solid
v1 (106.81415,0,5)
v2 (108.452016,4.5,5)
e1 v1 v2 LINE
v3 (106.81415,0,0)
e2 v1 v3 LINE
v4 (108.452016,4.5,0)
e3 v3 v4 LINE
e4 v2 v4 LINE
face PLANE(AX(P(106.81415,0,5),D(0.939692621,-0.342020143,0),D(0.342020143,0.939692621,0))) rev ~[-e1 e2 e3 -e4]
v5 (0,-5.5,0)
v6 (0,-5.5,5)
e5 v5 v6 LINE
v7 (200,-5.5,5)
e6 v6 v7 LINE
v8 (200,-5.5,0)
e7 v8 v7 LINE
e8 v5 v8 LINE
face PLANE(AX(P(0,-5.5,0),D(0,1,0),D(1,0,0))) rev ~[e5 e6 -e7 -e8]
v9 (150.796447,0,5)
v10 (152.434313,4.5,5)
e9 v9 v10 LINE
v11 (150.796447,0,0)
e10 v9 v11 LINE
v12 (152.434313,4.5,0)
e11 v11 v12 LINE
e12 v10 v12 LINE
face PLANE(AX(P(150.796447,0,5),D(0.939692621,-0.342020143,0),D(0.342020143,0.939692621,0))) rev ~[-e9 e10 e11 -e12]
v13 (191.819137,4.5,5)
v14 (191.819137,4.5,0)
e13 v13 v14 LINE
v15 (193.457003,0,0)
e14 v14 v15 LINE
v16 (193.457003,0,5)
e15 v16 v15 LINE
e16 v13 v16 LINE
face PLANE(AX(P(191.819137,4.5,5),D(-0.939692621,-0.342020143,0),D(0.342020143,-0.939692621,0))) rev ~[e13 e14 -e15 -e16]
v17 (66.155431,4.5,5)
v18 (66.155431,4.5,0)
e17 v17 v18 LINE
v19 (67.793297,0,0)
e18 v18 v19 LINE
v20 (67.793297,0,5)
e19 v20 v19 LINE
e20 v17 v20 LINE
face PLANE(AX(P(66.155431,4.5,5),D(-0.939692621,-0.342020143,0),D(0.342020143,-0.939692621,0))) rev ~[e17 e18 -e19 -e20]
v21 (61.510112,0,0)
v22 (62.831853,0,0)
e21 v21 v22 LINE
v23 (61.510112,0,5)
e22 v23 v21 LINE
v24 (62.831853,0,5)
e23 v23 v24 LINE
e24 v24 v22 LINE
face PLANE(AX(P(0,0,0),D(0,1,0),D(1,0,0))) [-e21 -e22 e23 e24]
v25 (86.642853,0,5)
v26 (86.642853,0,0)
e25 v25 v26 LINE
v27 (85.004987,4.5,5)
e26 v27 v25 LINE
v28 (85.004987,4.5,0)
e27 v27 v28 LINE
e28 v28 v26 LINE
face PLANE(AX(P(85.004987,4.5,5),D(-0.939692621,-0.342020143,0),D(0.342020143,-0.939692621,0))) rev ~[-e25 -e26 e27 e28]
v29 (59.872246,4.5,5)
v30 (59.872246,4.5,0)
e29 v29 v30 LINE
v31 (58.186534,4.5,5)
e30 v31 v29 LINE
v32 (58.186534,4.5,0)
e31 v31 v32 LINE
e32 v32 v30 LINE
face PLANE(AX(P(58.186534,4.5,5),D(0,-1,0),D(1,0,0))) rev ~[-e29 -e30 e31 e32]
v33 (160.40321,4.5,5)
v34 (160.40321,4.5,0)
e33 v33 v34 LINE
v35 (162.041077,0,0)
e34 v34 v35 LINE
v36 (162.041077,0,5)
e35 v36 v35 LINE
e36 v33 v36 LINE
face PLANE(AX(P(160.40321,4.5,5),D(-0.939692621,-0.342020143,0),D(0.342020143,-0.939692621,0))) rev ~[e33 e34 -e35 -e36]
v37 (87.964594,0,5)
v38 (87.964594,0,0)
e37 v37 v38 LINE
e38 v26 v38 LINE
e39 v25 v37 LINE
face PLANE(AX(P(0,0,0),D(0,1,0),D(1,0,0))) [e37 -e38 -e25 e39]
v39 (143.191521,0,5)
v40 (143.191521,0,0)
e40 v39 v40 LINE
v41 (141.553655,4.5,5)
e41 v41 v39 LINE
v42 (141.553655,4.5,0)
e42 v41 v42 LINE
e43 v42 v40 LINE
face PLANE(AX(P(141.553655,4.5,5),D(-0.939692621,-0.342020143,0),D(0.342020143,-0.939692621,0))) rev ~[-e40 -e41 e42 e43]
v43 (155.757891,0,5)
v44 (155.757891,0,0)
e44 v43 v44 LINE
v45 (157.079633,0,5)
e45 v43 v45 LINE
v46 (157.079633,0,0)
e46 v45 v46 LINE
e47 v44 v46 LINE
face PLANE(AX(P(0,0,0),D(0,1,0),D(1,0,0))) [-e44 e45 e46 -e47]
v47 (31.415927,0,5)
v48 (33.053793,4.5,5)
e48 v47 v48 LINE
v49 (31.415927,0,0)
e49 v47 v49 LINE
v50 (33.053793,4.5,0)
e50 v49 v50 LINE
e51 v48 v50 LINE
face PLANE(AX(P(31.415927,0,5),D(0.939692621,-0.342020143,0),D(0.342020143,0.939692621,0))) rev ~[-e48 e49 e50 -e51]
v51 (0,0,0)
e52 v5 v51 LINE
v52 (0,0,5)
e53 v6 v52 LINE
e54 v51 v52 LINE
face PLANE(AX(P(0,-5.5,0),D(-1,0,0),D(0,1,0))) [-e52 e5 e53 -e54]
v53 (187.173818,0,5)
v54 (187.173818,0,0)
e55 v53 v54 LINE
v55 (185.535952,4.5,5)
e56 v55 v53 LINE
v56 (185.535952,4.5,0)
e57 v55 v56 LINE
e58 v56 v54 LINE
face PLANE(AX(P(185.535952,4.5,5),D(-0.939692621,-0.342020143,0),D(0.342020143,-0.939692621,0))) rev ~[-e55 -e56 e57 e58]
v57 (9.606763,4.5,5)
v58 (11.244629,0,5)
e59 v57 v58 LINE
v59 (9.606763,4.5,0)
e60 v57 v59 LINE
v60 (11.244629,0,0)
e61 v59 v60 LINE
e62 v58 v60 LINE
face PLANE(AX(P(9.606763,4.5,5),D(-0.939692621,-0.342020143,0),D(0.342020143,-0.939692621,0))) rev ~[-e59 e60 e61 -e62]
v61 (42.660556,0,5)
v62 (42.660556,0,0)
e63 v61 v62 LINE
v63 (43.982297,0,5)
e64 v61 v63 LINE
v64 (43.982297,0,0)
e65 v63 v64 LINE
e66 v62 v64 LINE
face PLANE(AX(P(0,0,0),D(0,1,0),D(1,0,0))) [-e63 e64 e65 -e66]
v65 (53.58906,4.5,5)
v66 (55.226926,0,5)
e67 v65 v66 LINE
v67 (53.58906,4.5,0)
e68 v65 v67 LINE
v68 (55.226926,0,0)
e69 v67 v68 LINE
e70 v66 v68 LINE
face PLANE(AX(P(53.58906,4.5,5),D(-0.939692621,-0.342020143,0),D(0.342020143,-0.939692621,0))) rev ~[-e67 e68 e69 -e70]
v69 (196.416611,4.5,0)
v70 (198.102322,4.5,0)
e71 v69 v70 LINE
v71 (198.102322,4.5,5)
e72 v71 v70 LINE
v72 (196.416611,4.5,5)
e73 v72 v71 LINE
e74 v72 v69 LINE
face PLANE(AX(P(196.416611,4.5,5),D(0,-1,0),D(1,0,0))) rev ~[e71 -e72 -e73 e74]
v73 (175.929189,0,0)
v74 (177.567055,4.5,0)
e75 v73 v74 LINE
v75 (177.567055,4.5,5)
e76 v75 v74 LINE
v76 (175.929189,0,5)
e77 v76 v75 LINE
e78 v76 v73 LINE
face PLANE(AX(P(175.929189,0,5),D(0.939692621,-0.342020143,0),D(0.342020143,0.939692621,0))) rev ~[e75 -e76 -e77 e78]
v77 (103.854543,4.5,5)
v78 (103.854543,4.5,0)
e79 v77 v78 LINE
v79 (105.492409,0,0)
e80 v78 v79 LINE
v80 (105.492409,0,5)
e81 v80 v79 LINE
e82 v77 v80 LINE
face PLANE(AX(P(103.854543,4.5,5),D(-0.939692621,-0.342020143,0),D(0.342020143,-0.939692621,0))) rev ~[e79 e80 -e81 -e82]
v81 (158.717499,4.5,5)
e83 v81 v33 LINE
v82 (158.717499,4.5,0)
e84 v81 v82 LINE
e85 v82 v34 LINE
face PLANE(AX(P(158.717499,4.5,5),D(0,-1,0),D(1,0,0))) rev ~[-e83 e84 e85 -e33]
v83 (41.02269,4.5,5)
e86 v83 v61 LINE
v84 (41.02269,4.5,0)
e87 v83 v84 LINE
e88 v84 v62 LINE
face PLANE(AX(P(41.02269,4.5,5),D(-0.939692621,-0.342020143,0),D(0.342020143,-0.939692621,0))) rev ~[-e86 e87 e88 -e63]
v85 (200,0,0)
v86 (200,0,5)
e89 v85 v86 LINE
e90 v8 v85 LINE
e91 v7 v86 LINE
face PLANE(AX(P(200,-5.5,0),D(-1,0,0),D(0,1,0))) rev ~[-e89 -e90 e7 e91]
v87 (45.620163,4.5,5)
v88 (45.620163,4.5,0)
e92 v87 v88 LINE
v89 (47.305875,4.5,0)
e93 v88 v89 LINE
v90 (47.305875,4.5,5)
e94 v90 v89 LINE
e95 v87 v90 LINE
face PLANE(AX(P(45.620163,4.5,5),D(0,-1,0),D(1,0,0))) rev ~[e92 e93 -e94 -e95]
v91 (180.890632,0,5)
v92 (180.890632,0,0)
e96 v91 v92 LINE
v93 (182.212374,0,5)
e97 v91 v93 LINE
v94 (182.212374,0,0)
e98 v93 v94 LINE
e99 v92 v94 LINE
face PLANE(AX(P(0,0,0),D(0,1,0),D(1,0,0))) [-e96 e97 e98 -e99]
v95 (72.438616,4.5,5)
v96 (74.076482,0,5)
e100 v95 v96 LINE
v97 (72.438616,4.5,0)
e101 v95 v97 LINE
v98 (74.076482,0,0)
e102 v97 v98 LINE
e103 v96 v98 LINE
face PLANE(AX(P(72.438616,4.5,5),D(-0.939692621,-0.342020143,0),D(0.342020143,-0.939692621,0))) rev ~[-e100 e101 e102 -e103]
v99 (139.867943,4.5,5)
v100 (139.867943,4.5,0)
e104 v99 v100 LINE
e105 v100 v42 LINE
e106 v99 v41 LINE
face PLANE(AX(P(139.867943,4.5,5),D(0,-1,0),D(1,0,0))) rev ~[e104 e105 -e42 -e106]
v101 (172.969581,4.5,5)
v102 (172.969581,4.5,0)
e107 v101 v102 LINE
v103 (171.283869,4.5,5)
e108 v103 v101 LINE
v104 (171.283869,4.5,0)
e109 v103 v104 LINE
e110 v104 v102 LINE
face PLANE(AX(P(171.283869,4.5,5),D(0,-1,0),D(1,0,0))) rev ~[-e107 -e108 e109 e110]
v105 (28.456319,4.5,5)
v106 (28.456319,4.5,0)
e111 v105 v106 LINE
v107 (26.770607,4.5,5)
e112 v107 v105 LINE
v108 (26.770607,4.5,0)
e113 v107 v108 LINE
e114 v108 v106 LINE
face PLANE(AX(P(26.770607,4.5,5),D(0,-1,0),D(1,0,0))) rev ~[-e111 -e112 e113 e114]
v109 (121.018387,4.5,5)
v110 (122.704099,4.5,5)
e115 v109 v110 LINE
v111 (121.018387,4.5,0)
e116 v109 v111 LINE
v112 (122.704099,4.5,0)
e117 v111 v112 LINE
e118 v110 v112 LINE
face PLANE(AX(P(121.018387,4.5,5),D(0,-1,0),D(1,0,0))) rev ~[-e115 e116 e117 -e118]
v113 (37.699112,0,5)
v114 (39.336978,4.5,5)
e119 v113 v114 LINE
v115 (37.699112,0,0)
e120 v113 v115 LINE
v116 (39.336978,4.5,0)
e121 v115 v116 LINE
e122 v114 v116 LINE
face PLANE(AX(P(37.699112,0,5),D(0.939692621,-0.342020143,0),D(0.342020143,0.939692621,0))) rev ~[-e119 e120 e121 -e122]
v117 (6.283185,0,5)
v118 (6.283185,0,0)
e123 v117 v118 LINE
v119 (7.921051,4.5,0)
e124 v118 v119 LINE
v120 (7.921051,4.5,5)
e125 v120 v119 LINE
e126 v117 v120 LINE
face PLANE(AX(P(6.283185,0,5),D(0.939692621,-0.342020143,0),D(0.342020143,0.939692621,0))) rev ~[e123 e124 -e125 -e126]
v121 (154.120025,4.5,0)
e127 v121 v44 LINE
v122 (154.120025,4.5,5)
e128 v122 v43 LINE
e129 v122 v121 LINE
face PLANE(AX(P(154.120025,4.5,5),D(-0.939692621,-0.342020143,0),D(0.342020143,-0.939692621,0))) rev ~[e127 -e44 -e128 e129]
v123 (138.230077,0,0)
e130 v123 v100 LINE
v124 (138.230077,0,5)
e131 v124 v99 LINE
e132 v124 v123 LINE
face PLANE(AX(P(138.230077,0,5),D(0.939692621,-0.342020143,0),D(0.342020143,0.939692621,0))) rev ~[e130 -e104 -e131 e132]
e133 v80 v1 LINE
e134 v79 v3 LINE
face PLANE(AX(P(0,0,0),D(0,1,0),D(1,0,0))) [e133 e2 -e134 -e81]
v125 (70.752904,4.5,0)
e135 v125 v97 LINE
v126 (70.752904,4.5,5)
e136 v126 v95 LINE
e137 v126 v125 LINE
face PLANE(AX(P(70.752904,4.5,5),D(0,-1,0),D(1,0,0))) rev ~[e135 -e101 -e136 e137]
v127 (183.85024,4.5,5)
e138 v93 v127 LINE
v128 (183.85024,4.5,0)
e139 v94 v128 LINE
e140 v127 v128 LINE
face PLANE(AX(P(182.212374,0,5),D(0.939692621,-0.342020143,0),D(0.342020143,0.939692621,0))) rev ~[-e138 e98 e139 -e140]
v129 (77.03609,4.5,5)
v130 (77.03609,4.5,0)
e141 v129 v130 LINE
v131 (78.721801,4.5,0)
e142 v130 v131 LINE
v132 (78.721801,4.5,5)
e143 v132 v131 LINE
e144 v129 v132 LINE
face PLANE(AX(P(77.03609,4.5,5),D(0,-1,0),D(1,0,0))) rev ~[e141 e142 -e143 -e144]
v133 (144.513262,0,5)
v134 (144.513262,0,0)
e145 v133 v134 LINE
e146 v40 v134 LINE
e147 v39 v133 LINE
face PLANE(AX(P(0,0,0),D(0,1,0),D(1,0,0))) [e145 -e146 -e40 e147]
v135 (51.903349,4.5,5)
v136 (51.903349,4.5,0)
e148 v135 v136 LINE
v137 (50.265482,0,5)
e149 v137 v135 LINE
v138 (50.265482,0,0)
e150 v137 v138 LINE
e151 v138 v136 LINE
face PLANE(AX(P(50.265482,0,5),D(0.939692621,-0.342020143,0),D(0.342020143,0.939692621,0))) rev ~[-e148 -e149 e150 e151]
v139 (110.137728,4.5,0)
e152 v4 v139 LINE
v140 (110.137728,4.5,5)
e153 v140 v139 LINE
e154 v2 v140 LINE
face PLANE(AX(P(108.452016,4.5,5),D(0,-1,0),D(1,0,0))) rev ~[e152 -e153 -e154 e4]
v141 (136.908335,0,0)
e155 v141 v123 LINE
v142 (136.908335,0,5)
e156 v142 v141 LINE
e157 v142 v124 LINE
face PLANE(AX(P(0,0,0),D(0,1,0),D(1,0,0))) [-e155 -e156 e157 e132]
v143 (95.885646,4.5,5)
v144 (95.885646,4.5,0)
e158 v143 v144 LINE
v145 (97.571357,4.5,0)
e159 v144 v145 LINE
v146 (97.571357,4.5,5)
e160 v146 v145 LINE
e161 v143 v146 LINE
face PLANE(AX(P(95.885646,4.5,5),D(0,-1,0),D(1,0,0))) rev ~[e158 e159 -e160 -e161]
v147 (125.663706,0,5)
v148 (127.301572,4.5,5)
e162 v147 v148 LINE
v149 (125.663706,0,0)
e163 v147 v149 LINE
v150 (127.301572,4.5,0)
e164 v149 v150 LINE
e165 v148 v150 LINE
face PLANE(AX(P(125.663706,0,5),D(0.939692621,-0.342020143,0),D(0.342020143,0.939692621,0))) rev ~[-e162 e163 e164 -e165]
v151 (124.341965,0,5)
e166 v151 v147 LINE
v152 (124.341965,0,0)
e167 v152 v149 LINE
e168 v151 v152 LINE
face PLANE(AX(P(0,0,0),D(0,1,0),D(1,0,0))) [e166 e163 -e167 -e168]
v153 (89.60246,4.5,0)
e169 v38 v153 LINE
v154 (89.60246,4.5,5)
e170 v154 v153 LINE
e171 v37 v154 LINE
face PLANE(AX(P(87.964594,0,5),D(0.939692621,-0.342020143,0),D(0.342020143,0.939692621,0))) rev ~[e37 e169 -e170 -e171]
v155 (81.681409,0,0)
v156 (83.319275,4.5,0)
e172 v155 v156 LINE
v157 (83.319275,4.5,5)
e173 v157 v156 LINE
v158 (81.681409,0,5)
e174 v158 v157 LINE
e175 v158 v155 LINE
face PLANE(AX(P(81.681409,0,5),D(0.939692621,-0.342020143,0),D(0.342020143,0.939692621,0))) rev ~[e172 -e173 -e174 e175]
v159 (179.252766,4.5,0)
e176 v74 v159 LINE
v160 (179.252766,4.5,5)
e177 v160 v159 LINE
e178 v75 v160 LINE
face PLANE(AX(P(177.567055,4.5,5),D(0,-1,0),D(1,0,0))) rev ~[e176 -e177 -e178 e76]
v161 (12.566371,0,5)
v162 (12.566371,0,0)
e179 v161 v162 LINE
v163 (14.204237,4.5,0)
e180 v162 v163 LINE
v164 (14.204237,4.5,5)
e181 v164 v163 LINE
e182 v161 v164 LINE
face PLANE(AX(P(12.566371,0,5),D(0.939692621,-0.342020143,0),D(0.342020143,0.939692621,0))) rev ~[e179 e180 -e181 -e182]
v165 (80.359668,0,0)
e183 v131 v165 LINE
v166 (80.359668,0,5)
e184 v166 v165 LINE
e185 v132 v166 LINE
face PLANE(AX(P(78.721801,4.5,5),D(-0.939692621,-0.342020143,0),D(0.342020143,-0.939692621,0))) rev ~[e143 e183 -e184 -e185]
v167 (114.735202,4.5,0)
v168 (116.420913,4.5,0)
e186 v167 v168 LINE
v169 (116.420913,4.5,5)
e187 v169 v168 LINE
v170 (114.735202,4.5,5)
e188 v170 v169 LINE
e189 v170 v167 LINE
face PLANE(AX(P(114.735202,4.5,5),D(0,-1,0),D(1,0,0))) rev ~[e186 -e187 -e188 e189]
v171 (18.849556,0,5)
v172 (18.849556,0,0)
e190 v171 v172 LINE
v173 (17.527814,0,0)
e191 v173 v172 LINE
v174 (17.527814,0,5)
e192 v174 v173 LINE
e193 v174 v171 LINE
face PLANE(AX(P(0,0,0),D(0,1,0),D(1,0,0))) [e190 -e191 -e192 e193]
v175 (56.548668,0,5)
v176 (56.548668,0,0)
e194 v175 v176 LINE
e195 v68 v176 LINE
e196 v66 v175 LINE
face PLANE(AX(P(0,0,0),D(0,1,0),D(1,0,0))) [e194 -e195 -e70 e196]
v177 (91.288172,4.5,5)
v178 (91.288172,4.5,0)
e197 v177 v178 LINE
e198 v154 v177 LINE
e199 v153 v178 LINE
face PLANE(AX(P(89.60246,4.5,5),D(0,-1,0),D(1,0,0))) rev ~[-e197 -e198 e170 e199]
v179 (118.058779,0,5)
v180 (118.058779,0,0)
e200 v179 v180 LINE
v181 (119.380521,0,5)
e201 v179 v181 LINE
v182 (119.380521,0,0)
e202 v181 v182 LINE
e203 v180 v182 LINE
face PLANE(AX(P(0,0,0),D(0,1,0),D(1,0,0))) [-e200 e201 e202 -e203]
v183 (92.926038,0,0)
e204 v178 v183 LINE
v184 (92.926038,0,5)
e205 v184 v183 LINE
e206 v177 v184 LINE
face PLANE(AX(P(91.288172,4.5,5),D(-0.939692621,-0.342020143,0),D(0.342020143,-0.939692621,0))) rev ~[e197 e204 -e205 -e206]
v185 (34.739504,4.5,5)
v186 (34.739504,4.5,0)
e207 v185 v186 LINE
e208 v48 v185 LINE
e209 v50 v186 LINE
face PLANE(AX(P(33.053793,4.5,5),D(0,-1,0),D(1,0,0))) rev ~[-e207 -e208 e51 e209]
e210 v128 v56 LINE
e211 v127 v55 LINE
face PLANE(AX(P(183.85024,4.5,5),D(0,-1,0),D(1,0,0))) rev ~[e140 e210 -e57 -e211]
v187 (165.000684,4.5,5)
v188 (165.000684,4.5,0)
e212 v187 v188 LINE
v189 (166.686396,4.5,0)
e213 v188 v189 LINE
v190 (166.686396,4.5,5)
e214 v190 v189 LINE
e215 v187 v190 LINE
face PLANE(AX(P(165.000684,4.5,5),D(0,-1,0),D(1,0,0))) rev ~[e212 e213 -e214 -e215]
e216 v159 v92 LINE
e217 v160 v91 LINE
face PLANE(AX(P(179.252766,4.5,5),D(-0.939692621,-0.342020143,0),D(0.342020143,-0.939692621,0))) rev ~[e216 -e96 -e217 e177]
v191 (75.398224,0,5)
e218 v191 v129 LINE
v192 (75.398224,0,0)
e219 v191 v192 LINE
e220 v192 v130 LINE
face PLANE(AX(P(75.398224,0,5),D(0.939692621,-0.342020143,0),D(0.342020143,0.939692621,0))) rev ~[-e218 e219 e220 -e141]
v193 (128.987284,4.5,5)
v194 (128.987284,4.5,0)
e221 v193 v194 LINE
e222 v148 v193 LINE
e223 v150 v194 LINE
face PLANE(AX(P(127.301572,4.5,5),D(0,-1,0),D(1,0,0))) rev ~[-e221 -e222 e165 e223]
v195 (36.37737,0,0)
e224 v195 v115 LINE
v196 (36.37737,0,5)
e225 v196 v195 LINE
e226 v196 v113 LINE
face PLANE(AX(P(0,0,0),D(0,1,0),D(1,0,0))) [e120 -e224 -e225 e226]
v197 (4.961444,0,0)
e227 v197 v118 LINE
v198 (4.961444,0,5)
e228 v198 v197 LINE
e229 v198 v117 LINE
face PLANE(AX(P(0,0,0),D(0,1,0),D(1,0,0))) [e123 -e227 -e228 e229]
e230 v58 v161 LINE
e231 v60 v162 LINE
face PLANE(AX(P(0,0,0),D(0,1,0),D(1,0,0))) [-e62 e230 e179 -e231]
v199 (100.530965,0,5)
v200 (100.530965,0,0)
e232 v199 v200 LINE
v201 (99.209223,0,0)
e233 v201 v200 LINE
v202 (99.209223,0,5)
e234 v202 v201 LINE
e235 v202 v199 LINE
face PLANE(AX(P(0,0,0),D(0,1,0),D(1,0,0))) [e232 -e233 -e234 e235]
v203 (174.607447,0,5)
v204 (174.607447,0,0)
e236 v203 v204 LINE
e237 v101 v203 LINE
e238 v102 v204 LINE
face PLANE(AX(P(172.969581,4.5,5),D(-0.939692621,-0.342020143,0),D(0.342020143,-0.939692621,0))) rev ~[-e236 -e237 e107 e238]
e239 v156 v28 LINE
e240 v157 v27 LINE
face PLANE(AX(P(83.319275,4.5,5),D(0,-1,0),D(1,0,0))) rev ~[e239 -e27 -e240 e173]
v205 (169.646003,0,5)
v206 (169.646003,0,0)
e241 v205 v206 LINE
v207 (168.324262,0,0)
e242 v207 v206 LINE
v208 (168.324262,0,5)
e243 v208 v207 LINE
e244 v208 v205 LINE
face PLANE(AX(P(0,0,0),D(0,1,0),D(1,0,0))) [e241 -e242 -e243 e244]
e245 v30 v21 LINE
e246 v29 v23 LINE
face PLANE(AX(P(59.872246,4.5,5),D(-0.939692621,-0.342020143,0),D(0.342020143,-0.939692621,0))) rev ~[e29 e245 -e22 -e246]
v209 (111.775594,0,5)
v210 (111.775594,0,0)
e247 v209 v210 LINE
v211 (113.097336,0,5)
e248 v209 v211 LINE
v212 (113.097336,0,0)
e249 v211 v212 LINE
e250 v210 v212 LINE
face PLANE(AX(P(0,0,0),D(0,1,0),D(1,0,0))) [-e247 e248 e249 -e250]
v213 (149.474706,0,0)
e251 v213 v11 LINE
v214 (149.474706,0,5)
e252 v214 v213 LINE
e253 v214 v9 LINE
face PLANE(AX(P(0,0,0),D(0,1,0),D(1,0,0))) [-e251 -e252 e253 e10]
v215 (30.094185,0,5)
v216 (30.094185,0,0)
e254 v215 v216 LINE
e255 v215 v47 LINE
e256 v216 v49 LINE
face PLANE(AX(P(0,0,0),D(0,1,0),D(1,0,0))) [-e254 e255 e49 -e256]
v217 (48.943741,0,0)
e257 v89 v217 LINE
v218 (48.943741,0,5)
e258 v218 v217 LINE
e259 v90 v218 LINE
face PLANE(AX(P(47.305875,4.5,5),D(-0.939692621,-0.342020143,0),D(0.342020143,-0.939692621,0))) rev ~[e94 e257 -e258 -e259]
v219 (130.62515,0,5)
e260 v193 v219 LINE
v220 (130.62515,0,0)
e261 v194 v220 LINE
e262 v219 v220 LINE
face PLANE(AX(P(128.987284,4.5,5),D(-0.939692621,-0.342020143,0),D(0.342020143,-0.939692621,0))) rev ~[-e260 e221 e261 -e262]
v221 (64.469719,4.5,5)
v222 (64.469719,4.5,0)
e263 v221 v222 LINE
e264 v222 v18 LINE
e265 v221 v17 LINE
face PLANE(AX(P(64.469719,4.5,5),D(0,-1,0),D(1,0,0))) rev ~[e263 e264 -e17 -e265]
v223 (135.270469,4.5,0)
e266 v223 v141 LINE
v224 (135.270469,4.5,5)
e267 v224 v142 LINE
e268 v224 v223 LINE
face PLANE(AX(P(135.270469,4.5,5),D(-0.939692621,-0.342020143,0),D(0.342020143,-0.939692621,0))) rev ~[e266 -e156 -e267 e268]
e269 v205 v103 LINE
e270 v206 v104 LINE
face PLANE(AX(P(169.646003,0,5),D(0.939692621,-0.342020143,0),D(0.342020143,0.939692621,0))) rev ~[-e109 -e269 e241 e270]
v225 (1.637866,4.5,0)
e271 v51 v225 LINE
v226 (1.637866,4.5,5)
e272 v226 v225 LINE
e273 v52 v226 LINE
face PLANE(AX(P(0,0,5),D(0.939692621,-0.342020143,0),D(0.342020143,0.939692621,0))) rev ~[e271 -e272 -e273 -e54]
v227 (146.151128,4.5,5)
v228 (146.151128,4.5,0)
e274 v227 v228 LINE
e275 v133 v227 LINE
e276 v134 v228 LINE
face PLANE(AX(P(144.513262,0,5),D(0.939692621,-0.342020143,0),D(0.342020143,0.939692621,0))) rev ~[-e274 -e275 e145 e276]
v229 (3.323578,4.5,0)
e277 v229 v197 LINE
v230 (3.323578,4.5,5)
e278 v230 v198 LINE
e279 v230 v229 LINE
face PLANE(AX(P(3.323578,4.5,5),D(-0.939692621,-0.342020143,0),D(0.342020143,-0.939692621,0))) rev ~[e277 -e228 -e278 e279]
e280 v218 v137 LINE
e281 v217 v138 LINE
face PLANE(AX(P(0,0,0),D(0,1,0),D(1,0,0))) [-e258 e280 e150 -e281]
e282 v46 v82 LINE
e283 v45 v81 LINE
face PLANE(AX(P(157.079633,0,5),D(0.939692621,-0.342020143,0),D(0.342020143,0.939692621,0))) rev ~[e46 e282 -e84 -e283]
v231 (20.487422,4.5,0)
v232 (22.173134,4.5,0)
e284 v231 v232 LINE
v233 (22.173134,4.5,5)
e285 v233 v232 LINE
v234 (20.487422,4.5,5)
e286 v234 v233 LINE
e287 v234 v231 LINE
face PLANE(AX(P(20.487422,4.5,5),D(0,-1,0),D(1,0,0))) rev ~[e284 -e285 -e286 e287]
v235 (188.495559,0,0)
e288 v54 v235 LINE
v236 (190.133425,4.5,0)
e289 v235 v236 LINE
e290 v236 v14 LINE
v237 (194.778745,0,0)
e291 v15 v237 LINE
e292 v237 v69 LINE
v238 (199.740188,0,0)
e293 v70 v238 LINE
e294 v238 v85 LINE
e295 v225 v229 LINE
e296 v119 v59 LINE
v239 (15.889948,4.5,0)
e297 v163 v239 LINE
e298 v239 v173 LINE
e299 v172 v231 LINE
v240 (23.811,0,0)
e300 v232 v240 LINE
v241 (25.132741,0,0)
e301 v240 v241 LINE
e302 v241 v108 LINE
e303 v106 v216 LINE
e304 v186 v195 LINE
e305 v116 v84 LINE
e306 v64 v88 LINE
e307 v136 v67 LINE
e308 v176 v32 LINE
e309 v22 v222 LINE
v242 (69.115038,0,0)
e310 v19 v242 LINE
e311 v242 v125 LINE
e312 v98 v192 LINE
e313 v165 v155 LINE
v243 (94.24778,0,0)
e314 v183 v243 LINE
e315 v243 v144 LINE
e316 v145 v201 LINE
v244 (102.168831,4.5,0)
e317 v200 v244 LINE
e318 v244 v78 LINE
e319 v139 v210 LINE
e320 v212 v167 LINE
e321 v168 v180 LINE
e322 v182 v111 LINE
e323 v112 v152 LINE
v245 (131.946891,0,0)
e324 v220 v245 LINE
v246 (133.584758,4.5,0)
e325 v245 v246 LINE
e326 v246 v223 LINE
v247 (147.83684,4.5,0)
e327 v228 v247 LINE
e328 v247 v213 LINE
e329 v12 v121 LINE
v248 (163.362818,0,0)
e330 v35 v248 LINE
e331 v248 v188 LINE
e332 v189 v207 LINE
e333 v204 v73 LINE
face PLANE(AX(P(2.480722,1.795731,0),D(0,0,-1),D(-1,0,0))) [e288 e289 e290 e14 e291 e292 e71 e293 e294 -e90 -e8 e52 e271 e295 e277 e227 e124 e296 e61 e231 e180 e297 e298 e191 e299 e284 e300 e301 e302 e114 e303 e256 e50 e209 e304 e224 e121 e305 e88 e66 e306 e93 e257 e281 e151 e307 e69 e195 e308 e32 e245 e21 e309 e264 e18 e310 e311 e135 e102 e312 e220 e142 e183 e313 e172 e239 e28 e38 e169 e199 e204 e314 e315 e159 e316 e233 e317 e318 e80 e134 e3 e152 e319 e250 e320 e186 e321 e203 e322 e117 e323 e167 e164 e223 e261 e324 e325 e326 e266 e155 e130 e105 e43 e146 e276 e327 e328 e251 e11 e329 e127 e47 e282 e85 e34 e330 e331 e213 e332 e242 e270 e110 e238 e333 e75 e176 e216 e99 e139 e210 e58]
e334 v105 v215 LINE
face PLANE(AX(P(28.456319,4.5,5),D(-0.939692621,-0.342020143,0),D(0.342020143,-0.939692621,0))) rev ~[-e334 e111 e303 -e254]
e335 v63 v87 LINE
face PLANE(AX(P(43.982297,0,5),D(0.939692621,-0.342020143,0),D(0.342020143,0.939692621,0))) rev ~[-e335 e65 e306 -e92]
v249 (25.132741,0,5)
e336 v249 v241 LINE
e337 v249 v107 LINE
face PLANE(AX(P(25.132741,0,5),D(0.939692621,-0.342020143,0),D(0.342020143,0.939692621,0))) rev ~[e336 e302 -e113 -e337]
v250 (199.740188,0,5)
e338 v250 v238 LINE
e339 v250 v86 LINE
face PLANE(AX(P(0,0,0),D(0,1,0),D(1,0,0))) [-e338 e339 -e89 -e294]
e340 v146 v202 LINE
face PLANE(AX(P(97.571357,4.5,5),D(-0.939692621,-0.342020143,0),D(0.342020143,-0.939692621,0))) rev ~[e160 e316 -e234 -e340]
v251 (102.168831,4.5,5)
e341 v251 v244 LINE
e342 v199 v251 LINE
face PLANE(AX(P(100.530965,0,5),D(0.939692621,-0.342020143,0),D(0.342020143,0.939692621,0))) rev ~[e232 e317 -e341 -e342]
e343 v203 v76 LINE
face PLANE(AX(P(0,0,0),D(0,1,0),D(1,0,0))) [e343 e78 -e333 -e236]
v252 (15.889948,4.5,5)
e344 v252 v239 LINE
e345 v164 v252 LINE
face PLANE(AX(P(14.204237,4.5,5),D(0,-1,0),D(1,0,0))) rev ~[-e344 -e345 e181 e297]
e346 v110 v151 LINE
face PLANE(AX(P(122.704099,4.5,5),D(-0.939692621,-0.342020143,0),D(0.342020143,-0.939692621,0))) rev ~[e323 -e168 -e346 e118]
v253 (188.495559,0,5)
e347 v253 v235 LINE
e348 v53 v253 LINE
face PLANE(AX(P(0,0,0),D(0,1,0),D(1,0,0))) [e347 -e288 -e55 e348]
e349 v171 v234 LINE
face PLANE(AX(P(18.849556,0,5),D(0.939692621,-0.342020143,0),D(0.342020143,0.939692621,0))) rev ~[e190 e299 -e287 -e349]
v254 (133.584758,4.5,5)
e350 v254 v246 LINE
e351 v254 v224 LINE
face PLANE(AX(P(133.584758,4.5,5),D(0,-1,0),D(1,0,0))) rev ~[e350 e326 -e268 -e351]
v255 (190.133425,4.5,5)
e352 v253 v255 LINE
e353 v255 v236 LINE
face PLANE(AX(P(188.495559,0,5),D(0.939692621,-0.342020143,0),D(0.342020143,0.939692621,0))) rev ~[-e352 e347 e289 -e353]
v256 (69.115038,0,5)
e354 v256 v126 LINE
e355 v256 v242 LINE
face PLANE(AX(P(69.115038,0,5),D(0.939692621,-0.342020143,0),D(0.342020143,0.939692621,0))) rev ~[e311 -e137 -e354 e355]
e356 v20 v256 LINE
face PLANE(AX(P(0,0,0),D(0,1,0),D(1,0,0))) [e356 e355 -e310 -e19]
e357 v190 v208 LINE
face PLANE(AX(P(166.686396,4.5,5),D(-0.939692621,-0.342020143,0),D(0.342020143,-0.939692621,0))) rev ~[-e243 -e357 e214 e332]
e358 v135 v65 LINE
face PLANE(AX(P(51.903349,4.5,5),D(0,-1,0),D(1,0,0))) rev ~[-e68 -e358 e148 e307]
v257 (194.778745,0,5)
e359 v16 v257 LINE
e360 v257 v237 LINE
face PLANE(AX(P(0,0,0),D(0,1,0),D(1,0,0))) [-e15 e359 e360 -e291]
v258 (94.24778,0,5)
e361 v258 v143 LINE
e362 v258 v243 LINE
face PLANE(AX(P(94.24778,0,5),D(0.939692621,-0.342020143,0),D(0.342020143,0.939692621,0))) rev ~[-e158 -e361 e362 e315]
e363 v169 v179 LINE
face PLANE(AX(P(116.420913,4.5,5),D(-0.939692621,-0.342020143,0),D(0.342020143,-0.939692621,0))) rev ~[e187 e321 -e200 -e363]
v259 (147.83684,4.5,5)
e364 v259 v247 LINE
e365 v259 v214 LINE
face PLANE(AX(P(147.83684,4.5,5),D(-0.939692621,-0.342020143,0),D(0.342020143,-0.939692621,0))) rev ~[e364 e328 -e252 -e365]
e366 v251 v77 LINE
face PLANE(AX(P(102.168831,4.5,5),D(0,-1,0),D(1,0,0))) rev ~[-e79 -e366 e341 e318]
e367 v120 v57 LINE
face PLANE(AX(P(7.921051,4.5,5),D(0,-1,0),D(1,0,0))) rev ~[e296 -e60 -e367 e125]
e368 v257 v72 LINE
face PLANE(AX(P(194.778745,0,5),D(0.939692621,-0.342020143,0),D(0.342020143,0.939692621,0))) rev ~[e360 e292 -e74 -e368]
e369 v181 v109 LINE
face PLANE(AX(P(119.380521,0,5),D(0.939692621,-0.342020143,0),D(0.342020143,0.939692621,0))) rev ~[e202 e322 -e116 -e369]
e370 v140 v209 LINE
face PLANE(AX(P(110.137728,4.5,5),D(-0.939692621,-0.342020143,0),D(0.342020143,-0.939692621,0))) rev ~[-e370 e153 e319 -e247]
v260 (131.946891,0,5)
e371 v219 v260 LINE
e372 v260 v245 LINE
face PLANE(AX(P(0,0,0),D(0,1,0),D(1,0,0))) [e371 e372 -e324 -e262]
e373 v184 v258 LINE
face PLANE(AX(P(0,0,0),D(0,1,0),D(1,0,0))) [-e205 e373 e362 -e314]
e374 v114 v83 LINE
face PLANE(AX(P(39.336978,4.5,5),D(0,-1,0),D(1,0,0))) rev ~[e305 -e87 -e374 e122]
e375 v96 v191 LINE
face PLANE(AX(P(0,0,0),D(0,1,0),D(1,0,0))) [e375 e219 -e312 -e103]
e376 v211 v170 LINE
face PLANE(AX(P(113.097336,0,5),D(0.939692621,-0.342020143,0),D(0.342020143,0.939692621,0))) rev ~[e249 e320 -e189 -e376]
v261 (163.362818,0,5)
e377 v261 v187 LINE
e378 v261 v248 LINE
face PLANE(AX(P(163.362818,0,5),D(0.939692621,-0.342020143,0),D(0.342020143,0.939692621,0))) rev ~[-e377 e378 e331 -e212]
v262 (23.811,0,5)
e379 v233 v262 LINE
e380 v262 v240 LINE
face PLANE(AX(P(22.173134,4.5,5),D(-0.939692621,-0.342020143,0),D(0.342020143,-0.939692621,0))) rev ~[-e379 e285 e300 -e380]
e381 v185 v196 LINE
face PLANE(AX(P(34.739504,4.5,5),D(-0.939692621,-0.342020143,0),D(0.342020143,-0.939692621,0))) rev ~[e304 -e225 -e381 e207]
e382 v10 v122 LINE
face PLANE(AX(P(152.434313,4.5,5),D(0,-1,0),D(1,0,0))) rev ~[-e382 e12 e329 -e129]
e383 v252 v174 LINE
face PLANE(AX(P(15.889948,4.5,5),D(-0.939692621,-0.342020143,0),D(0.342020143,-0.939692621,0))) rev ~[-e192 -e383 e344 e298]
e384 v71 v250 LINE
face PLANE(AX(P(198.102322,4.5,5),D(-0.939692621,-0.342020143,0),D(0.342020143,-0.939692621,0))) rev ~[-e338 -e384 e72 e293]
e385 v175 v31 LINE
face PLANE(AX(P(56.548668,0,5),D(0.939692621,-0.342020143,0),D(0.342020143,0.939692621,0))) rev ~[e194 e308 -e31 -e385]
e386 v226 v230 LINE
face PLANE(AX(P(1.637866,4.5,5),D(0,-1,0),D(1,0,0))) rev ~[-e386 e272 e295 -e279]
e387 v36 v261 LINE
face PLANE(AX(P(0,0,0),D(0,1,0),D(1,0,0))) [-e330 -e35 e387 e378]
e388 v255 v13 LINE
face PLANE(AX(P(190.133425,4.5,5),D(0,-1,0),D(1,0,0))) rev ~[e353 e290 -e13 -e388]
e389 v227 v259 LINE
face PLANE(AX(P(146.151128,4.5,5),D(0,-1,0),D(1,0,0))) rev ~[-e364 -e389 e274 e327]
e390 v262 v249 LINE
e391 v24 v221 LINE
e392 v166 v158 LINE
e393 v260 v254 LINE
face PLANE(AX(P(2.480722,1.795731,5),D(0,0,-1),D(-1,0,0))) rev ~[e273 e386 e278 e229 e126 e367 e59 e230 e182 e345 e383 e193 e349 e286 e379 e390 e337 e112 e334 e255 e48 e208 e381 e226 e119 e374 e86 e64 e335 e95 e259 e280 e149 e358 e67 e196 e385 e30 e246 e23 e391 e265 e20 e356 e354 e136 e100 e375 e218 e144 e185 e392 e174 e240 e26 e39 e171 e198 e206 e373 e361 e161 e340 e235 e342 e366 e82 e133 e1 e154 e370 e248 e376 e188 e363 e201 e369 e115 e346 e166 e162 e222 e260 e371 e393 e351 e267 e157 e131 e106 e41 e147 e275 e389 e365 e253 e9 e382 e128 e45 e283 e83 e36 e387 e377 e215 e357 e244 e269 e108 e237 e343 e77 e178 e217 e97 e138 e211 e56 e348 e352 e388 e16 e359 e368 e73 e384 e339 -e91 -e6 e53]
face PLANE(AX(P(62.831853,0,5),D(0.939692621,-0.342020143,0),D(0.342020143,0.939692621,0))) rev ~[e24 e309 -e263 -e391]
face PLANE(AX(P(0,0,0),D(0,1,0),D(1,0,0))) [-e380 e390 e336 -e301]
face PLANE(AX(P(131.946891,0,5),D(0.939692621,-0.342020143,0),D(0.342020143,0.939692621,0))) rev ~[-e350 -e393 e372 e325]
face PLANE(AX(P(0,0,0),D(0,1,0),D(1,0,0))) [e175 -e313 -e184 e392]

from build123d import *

# Parameters (mm, degrees)
SKETCH_1_W             = 200
SKETCH_1_H             = 5.5
EXTRUDE_1_DEPTH        = 5
EXTRUDE_2_DEPTH        = 5
PATTERN_LINEAR_1_COUNT = 32
PATTERN_LINEAR_1_PITCH = 6.283185307


with BuildPart() as part:
    # 草图1 → 拉伸1 (new body)
    with BuildSketch(Plane.XY):
        with Locations((100, -2.75)):
            Rectangle(SKETCH_1_W, SKETCH_1_H)
    extrude(amount=EXTRUDE_1_DEPTH)

    # 草图2 → 拉伸2 (add)
    with BuildSketch(Plane.XY.offset(5)):
        Polygon((0, 0), (1.637866054, 4.5), (3.323577771, 4.5), (4.961443825, 0), align=None)
    extrude_2 = extrude(amount=-EXTRUDE_2_DEPTH)

    # 阵列(线性)1: 拉伸2 ×32
    with Locations(*[(i * PATTERN_LINEAR_1_PITCH, 0, 0) for i in range(1, PATTERN_LINEAR_1_COUNT)]):
        add(extrude_2)


solid = part.part
